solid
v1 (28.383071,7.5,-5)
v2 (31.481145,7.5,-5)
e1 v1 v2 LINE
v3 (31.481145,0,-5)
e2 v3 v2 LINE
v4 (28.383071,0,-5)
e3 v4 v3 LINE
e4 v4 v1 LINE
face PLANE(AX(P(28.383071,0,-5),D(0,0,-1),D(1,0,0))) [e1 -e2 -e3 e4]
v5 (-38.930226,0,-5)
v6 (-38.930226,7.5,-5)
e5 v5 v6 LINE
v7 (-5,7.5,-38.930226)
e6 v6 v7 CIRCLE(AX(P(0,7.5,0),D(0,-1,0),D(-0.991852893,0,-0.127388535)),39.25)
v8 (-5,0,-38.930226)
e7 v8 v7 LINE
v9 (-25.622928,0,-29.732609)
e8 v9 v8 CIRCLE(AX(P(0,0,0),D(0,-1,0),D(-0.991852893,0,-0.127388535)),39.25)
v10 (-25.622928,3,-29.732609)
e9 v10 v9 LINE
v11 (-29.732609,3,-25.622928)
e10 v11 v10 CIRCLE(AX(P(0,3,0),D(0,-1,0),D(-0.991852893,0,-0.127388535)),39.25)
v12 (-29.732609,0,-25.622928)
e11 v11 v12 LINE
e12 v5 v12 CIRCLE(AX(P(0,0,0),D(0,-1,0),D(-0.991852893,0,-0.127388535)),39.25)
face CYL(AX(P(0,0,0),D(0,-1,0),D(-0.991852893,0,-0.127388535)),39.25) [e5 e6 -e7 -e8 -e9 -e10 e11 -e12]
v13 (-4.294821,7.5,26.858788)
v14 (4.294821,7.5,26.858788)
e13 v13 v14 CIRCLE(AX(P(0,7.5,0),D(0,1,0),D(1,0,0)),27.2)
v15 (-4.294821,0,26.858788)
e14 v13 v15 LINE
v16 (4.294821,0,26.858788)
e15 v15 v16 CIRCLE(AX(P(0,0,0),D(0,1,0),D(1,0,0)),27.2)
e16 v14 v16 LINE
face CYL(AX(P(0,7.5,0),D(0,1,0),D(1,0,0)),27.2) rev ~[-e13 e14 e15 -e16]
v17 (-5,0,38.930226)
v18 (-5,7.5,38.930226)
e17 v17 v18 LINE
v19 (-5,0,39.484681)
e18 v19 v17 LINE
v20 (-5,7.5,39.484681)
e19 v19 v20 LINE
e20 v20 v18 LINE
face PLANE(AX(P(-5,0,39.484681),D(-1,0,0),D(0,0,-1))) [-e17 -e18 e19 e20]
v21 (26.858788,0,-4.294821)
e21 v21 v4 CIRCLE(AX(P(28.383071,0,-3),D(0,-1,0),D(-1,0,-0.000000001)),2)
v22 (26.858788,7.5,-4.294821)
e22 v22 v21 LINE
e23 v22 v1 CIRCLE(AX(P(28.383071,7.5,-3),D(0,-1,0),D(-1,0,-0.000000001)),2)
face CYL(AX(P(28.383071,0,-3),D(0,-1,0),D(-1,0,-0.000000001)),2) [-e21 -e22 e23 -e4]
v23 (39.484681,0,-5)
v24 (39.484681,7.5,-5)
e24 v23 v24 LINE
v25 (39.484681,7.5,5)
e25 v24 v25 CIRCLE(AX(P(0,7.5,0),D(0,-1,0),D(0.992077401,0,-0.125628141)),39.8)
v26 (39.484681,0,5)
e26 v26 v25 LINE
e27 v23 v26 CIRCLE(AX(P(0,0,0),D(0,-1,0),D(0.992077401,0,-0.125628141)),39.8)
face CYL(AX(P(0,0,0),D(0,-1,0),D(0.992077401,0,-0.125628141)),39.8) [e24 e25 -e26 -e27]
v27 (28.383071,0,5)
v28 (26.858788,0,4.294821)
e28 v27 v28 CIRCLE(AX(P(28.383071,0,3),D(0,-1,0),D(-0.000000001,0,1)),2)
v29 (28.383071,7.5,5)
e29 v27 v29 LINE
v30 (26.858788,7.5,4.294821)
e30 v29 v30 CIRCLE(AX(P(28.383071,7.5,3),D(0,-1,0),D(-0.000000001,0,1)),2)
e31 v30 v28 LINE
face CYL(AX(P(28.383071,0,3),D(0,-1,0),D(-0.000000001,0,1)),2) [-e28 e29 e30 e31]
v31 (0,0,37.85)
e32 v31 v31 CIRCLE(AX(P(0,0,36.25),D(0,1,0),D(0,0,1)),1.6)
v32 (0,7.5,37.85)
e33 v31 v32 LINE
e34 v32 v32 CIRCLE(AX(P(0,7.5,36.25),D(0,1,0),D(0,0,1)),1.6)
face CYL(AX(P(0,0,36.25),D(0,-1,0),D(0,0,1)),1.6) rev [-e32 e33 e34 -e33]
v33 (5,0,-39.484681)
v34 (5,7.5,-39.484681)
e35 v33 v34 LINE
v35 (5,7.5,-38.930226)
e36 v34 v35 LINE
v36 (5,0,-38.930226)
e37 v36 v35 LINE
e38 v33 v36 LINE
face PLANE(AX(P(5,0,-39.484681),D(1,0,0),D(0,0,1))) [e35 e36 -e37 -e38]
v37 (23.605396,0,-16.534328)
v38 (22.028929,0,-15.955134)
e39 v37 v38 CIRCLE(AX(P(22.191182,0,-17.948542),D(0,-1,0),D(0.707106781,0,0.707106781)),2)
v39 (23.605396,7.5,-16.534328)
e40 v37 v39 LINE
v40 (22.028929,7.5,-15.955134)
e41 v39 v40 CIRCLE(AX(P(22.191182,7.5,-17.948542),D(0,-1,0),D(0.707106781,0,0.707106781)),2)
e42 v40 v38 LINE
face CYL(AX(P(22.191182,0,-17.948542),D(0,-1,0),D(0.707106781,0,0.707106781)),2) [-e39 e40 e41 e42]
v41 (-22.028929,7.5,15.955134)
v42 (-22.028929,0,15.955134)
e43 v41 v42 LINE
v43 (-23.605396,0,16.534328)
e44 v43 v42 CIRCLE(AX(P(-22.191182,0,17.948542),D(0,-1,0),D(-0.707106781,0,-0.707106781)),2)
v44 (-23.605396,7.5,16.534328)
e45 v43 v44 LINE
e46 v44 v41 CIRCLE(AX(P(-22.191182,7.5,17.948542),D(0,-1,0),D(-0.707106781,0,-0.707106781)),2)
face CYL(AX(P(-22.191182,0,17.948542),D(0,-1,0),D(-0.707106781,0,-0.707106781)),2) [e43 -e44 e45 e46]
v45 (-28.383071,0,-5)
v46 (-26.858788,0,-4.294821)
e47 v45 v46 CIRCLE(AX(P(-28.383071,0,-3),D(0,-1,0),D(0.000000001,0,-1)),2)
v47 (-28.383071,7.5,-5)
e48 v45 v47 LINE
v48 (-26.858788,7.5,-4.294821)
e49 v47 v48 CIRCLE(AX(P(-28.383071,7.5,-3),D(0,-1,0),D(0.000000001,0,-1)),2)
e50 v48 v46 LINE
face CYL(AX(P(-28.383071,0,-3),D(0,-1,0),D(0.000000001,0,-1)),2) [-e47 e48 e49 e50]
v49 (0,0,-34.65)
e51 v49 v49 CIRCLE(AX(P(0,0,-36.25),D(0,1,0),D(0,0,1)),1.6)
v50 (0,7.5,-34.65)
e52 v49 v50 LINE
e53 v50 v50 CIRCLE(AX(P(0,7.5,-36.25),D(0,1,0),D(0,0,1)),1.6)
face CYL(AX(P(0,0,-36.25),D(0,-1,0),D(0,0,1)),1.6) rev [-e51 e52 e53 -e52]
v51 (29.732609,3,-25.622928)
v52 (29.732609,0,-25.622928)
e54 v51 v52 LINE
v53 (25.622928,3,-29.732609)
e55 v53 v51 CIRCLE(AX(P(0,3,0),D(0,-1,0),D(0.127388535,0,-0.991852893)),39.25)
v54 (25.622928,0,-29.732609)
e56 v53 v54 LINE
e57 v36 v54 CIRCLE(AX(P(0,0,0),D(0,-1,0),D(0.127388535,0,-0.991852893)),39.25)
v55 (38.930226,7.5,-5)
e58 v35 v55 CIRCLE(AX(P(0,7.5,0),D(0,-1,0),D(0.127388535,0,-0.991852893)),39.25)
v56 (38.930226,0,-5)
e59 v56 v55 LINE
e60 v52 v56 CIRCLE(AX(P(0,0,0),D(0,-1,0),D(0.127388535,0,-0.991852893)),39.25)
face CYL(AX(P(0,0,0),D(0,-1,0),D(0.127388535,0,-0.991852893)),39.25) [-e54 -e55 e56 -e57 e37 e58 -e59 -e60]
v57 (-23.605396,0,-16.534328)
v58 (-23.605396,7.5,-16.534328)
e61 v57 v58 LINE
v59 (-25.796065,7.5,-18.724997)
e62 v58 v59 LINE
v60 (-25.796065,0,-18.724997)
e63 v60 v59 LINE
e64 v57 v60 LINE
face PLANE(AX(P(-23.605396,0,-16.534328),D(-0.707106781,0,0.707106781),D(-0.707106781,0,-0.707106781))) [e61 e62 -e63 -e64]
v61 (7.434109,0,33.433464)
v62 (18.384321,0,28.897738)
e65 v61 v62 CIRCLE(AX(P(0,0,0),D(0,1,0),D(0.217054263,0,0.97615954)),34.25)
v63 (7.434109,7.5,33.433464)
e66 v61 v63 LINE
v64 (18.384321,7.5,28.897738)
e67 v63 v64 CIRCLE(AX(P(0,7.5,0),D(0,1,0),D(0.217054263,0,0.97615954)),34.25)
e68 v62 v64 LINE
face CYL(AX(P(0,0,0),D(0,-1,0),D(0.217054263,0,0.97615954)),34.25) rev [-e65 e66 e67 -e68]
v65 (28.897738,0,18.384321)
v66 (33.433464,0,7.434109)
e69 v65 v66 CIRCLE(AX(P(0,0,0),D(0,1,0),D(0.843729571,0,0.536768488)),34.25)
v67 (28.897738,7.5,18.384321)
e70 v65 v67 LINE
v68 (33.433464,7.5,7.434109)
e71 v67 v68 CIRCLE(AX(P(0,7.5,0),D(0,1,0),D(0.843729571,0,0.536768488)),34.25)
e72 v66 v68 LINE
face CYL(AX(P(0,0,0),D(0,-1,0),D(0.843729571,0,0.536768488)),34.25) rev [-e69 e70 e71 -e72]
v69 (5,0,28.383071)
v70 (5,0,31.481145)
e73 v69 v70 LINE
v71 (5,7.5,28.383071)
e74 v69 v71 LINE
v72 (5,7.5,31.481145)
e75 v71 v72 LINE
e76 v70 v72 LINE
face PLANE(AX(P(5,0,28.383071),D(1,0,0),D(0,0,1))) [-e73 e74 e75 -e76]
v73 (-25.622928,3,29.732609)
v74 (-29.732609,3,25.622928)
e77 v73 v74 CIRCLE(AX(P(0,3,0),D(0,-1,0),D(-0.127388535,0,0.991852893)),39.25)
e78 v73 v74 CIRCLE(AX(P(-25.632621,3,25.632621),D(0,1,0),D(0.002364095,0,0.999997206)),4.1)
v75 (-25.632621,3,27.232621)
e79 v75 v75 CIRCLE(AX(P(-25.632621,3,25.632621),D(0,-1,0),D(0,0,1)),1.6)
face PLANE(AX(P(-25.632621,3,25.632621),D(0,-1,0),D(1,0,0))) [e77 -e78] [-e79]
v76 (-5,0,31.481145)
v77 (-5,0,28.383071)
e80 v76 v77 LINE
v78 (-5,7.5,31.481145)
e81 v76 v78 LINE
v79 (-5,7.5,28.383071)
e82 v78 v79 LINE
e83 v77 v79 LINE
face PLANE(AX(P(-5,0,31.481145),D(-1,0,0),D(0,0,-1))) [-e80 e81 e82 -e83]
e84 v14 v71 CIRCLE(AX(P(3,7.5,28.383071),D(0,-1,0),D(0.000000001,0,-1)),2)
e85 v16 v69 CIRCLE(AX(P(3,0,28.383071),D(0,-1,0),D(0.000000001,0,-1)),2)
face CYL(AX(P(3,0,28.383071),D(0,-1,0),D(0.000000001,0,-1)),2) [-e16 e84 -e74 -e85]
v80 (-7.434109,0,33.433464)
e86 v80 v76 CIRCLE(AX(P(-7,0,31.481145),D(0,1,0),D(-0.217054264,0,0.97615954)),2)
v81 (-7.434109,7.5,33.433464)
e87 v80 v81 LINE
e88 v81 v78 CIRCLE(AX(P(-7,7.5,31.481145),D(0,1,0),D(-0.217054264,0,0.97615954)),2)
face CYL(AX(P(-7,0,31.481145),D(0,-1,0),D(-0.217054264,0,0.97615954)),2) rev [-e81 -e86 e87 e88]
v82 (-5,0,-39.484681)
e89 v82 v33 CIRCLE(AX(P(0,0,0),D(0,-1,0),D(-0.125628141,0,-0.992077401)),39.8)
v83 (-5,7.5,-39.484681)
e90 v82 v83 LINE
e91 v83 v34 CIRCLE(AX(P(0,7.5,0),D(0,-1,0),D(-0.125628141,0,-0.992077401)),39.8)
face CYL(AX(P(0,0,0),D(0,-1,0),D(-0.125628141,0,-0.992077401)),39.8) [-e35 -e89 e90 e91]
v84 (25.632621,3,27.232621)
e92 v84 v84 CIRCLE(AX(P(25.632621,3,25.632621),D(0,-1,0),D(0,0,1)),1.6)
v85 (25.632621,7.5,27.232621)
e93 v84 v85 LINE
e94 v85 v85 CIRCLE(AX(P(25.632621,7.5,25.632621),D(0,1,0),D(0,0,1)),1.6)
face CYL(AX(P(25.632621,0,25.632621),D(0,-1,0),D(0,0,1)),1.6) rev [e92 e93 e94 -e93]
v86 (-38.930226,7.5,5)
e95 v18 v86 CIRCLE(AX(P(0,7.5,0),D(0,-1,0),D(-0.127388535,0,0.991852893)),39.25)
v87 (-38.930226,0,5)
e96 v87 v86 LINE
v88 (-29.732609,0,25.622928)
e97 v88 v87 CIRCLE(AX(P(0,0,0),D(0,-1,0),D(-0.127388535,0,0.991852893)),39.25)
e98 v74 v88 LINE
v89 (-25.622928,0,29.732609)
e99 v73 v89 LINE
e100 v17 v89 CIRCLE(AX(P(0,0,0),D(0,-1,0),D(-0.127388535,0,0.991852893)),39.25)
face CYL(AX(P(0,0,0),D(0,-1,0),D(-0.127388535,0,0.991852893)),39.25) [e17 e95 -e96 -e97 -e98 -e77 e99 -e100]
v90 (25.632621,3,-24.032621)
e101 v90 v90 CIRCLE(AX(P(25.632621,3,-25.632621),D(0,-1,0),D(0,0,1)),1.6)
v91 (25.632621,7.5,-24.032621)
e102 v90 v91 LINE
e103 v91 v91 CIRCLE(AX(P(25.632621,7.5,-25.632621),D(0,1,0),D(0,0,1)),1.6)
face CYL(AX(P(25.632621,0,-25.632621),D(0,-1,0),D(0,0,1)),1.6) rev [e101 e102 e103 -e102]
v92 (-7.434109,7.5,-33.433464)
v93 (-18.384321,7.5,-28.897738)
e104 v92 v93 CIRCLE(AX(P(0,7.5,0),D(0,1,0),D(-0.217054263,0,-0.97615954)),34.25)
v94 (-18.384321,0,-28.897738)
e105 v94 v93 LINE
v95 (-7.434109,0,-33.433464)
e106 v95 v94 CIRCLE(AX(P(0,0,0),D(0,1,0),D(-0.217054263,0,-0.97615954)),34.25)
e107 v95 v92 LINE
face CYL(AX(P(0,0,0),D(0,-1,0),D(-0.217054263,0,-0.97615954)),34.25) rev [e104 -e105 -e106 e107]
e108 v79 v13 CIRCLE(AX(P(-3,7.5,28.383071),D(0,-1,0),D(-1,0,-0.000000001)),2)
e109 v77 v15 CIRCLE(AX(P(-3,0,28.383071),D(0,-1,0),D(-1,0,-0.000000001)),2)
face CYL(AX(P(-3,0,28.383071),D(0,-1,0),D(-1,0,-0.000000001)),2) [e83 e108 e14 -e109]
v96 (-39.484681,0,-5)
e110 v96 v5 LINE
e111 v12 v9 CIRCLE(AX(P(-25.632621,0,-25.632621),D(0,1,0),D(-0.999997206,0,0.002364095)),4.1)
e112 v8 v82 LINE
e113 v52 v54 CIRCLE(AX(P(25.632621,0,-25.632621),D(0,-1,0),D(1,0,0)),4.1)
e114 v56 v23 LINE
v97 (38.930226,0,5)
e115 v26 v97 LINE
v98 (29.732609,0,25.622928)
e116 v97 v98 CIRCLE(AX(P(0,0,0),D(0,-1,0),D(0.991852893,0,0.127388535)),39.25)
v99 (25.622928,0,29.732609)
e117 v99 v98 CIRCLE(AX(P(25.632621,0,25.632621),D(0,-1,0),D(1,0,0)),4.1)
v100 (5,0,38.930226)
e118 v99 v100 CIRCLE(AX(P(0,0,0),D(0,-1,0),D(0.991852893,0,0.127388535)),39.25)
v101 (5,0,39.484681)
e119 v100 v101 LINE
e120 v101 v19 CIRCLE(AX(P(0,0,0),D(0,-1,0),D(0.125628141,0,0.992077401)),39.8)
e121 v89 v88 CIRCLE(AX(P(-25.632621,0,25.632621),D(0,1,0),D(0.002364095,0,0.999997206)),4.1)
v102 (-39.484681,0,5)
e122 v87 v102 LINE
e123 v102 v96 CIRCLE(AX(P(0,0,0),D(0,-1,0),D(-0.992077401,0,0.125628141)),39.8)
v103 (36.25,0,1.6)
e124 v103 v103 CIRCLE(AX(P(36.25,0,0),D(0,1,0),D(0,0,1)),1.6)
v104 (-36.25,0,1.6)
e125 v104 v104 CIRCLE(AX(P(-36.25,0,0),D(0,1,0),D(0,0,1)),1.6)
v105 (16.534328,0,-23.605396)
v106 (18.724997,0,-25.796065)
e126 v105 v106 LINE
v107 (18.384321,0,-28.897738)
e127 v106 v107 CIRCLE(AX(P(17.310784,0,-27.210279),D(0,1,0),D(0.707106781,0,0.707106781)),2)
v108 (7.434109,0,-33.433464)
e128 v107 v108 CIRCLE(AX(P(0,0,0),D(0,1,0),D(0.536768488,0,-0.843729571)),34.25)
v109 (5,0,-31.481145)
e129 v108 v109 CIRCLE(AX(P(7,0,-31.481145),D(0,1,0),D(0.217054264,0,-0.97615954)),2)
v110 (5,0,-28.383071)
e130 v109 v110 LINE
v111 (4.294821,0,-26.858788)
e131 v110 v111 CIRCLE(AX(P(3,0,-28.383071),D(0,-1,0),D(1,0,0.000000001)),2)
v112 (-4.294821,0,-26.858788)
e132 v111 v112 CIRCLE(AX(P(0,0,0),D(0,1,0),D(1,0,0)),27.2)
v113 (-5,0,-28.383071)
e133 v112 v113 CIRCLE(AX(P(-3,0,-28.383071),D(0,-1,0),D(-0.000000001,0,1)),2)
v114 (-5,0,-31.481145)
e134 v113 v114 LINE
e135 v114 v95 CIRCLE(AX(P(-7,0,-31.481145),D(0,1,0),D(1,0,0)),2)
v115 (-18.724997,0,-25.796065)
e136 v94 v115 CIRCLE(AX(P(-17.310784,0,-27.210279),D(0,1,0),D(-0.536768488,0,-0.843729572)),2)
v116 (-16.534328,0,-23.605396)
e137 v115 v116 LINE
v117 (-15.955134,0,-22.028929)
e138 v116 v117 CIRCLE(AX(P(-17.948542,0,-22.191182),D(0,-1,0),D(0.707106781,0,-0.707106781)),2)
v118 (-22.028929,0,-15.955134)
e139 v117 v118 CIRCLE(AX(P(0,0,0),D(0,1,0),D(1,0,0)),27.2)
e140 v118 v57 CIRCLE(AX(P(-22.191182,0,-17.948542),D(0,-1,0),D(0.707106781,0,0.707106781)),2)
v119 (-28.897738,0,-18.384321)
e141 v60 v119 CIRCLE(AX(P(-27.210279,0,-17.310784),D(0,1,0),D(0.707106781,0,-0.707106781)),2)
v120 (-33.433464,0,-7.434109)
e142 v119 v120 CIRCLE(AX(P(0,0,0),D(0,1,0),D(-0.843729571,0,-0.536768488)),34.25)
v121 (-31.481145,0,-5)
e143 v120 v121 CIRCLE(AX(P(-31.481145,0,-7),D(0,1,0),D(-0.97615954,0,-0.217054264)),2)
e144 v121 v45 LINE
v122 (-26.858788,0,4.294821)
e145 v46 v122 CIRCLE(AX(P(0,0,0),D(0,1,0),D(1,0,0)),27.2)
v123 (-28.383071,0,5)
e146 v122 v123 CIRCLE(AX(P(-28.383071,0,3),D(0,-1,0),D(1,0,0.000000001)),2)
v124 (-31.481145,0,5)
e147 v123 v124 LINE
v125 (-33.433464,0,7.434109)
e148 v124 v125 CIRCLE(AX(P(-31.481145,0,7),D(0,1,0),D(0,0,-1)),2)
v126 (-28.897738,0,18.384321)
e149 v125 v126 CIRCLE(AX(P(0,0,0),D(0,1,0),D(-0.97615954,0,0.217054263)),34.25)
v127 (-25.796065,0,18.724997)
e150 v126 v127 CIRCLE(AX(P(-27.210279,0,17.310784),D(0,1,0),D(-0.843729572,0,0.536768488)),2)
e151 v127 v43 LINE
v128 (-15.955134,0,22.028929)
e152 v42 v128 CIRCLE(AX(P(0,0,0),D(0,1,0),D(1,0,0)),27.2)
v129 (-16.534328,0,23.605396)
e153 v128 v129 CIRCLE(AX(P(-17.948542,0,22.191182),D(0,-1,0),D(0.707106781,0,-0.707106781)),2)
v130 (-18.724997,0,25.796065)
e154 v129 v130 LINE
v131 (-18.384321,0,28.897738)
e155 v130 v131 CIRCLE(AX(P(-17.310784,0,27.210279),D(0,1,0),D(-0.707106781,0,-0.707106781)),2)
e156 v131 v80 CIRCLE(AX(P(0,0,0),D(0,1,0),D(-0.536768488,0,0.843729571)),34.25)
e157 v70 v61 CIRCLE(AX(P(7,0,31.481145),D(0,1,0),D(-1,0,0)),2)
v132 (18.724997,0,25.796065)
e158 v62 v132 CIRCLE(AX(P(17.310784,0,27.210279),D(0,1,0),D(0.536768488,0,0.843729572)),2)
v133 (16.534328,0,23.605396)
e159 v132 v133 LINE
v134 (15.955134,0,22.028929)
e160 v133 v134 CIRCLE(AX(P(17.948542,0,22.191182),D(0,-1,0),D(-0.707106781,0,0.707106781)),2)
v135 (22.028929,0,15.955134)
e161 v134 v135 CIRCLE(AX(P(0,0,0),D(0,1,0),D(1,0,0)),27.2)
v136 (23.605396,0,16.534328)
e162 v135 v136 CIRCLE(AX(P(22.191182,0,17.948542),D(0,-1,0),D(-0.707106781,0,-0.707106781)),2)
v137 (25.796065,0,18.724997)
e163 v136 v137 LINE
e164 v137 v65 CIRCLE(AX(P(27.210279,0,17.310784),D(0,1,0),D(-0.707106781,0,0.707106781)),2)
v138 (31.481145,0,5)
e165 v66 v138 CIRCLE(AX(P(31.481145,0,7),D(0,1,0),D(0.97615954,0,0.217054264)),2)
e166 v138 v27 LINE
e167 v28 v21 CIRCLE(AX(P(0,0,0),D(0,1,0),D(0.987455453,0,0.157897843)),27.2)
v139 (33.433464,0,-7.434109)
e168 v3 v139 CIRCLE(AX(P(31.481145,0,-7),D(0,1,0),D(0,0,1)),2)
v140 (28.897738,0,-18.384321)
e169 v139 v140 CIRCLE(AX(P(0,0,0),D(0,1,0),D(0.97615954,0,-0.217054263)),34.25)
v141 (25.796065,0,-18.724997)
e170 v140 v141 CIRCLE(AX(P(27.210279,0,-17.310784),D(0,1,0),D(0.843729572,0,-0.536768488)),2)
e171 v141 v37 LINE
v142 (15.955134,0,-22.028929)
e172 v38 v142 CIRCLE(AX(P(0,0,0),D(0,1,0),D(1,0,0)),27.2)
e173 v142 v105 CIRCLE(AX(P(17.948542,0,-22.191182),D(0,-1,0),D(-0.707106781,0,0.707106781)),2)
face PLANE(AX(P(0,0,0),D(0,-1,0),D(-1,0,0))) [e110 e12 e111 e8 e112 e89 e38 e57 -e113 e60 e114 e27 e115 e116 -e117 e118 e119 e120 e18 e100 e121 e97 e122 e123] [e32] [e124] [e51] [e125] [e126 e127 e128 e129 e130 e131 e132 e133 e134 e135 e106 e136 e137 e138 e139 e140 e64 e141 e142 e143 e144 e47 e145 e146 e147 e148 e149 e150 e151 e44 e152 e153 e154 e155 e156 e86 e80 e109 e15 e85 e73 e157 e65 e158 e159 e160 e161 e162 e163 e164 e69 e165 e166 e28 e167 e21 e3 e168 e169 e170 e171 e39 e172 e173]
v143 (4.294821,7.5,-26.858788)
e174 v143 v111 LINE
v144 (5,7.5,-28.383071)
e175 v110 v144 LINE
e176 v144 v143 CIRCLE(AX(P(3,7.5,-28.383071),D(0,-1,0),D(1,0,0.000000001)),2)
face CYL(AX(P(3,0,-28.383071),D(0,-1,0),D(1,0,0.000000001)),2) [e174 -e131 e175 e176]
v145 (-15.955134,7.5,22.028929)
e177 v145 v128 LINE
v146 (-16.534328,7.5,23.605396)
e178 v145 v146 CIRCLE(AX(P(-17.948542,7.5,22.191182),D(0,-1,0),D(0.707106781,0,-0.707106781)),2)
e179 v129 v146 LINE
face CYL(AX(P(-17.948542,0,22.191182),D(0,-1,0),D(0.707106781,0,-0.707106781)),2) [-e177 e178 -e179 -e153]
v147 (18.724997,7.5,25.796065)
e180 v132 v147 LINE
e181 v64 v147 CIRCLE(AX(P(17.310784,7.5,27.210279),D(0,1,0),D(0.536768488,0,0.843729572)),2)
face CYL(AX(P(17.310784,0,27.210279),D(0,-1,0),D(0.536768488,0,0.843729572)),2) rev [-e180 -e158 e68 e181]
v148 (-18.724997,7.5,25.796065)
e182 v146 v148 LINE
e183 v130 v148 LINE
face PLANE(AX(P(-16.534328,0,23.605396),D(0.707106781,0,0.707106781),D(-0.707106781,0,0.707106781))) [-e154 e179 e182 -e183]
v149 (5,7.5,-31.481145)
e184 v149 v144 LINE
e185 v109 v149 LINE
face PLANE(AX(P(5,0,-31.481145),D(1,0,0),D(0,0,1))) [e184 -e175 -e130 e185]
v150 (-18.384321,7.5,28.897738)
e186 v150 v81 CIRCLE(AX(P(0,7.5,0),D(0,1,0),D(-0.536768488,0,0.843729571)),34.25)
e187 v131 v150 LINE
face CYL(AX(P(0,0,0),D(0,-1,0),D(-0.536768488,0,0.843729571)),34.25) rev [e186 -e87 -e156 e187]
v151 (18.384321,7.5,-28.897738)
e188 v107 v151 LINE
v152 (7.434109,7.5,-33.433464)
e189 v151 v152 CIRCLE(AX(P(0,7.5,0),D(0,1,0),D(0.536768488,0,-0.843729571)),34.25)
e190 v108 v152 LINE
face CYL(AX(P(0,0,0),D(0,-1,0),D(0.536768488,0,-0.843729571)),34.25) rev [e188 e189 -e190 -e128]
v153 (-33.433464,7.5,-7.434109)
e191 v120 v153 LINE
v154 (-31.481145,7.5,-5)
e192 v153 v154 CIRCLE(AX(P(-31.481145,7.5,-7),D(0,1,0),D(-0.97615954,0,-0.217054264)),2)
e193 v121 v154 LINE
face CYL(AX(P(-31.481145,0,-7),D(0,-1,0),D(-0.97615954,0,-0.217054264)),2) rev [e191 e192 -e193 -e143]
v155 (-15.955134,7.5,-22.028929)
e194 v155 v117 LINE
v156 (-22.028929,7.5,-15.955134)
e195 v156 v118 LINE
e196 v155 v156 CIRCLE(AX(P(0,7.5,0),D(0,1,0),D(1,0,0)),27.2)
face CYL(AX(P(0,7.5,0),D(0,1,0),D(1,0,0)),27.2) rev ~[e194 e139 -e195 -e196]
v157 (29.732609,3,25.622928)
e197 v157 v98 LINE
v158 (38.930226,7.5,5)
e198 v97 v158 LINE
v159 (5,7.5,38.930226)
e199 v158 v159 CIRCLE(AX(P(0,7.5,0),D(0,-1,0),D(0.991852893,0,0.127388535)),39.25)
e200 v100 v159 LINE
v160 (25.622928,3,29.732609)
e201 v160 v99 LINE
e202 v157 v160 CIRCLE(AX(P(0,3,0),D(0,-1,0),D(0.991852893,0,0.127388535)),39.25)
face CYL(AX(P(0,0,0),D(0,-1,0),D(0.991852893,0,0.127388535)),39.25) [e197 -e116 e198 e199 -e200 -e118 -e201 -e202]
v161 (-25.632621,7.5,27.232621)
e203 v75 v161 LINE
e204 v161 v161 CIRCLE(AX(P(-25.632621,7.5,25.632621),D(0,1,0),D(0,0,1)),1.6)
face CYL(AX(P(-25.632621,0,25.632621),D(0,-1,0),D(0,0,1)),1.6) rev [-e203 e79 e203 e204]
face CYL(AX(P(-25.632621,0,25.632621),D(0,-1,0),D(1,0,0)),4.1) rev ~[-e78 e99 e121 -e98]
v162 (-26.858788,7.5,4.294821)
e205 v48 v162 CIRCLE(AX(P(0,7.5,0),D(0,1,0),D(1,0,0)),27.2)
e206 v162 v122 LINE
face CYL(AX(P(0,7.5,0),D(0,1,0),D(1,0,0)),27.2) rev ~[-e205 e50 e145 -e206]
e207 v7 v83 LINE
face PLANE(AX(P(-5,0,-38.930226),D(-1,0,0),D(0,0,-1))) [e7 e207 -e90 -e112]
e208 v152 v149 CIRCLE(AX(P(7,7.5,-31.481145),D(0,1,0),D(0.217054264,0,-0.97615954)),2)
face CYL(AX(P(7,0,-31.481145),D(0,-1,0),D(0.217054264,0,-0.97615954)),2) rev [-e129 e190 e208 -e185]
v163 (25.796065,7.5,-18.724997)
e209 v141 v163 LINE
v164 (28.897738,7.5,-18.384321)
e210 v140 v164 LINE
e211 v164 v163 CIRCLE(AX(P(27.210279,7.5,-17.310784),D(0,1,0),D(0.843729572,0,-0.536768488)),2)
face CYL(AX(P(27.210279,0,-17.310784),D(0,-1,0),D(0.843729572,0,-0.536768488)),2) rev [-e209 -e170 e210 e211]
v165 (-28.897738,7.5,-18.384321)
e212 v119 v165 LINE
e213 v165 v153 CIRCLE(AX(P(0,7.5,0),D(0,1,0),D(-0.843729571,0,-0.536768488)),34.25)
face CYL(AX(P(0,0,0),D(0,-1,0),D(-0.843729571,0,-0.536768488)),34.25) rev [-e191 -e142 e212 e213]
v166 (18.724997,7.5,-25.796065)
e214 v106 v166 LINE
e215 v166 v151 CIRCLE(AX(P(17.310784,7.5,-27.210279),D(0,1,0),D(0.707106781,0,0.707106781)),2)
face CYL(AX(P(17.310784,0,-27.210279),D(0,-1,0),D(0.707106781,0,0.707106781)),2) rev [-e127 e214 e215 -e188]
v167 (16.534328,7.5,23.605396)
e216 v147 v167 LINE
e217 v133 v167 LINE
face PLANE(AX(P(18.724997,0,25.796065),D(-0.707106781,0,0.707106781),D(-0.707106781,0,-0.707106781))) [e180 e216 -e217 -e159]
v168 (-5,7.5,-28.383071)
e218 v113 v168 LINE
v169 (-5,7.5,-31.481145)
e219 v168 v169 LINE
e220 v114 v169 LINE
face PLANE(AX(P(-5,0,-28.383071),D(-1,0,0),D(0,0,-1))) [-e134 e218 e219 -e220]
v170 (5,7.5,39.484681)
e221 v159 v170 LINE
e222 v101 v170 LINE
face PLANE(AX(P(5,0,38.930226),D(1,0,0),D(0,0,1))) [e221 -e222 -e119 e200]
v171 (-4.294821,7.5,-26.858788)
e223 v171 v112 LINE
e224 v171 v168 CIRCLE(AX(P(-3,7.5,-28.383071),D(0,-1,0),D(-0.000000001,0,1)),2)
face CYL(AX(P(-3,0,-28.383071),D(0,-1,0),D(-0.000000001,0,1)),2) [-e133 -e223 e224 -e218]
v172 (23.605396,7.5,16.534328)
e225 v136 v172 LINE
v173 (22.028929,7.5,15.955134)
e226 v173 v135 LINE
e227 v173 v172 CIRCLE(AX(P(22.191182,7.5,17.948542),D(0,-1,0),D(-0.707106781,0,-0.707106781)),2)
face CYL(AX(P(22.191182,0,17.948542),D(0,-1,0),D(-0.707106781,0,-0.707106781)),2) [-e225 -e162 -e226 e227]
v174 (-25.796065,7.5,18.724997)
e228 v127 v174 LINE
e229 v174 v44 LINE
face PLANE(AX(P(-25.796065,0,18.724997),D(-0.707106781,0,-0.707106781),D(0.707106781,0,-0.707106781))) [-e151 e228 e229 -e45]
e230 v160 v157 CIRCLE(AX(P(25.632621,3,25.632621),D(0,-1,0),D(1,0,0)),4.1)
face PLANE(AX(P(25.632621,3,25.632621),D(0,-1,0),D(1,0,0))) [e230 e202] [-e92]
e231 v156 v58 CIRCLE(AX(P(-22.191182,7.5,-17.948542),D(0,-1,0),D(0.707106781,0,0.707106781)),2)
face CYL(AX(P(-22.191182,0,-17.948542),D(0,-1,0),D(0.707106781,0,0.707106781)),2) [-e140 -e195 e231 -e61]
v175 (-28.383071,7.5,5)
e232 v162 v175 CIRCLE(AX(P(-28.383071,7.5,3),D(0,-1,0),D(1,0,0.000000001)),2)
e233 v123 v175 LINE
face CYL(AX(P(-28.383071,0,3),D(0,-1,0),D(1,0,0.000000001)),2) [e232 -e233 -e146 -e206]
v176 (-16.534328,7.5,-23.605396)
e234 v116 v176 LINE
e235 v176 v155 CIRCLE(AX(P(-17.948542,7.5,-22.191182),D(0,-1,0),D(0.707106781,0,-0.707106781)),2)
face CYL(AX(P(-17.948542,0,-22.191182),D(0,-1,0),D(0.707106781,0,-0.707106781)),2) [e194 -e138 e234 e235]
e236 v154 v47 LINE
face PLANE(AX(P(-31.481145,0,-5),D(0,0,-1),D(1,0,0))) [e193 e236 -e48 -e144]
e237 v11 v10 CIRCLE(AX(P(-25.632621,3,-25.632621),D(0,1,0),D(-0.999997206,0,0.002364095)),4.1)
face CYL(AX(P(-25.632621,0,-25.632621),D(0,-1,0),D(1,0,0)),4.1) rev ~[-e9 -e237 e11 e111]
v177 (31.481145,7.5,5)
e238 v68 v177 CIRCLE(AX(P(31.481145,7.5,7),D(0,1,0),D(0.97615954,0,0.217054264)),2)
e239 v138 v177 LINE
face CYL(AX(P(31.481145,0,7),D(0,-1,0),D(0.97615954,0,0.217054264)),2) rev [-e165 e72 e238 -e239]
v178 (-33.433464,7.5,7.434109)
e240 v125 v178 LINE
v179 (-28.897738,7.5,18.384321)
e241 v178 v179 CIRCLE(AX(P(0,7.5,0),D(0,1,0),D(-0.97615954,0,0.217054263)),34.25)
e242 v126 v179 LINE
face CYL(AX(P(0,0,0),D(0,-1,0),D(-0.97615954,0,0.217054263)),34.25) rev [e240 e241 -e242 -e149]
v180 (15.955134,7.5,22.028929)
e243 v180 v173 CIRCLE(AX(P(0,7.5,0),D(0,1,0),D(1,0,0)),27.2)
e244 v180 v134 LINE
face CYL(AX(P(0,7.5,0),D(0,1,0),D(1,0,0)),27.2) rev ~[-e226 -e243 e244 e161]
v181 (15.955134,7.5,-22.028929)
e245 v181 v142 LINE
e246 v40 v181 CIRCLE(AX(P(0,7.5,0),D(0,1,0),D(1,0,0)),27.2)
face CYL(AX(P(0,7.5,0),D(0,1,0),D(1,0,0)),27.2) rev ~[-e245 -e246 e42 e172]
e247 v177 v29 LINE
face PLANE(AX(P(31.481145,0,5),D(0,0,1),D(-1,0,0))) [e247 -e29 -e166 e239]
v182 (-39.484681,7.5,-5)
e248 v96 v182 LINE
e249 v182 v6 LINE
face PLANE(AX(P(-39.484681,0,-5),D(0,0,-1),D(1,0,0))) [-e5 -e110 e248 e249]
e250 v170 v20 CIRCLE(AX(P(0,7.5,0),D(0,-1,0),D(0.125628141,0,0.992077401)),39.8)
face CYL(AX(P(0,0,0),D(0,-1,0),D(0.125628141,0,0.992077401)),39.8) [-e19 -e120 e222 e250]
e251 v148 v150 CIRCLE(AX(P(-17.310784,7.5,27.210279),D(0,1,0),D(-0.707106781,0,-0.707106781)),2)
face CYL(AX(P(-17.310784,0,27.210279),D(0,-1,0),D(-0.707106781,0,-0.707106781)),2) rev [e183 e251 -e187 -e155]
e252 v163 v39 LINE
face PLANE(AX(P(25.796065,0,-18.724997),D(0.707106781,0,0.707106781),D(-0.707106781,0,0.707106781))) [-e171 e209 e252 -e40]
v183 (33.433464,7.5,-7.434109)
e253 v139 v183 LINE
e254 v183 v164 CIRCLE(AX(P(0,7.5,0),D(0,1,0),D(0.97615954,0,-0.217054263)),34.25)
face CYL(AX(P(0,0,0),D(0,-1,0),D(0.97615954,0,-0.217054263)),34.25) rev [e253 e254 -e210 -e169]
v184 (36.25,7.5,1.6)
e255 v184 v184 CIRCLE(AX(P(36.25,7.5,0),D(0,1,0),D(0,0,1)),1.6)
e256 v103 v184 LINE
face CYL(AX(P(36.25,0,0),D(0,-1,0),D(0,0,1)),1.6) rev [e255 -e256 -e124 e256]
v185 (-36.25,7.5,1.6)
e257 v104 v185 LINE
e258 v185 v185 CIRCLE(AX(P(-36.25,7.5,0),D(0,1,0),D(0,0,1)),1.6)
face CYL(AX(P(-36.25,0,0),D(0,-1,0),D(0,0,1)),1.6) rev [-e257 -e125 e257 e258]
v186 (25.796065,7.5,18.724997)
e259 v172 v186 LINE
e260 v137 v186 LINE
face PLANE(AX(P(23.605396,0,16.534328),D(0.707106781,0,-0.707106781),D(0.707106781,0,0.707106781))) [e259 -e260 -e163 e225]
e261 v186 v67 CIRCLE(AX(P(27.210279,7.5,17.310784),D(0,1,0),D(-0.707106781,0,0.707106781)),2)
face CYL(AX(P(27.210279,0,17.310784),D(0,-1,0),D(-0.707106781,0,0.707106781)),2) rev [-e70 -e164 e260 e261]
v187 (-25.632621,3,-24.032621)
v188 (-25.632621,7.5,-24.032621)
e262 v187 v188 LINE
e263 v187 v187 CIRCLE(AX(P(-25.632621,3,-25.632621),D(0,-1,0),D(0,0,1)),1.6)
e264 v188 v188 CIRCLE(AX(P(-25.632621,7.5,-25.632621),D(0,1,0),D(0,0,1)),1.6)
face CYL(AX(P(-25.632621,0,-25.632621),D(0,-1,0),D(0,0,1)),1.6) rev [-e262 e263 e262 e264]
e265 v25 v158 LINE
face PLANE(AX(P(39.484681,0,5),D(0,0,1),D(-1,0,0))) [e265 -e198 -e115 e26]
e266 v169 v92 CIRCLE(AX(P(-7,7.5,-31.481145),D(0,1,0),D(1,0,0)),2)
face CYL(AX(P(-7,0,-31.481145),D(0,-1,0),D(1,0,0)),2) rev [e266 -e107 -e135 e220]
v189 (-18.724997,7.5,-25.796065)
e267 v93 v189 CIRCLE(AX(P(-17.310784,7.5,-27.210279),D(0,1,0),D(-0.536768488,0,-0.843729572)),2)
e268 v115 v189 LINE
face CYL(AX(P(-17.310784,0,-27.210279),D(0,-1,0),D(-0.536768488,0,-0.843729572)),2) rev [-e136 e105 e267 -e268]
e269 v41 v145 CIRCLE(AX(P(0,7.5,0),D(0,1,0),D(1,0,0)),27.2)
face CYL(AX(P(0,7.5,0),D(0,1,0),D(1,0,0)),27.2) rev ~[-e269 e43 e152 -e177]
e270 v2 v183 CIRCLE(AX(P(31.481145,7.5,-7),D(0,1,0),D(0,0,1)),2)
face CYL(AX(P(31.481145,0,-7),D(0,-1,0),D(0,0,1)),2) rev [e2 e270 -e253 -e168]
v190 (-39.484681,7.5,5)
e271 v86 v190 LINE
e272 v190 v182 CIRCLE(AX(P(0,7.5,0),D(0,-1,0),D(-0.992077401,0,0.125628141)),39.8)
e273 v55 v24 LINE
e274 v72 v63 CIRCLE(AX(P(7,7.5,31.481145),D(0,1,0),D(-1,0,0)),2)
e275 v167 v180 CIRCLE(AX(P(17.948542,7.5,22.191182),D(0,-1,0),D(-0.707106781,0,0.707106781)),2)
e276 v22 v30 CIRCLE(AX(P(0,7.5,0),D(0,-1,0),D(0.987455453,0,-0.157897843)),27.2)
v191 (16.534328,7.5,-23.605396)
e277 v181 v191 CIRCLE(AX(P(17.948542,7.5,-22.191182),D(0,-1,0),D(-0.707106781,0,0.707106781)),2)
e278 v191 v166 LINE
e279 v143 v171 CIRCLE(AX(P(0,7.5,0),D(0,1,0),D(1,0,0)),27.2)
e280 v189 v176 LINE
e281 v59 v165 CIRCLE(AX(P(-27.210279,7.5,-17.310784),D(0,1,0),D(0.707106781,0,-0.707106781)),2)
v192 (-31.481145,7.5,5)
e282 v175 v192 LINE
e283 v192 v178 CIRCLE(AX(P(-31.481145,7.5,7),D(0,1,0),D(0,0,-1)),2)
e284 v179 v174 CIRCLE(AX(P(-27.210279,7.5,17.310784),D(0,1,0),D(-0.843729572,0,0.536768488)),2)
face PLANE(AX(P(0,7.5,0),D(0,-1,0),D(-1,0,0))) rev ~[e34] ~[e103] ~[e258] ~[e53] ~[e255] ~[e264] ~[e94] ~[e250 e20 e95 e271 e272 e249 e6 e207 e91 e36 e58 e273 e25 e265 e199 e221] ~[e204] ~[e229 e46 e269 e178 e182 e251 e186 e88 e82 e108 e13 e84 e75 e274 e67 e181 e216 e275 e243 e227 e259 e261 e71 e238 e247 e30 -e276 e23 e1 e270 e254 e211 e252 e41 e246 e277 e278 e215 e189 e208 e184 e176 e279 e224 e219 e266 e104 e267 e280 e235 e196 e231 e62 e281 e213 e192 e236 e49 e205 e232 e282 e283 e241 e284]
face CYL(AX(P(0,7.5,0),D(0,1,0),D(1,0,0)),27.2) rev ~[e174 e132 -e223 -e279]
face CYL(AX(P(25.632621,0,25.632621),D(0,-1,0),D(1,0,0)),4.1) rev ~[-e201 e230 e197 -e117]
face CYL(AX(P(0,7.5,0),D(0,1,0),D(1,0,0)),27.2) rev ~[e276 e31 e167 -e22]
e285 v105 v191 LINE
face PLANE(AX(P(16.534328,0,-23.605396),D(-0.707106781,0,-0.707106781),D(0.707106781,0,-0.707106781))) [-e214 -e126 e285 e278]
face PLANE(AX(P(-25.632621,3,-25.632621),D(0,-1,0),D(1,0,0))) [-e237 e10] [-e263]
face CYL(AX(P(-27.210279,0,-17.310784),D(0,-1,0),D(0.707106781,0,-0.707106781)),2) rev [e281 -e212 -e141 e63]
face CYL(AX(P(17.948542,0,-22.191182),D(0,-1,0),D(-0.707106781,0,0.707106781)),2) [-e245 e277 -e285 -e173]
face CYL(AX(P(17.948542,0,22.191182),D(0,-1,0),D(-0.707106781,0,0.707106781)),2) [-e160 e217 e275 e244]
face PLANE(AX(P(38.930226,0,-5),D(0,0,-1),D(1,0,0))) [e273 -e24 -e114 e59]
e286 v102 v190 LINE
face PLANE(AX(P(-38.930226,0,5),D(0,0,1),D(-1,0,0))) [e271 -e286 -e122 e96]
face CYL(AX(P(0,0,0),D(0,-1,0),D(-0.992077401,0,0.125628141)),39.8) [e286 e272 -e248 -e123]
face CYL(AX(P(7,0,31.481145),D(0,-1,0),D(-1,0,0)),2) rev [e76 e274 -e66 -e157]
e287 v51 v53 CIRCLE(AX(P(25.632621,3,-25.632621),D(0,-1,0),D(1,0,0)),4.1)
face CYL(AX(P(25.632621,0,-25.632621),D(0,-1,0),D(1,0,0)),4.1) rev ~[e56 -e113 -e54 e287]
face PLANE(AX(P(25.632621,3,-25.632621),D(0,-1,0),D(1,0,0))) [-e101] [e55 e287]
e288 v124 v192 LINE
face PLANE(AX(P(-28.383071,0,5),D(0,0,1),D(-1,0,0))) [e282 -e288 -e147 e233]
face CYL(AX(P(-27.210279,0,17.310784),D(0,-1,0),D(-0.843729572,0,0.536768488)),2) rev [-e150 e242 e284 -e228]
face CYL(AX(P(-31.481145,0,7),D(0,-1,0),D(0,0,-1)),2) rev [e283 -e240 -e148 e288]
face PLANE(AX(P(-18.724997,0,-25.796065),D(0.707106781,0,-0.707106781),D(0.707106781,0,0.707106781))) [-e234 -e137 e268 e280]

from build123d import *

# Parameters (mm, degrees)
SKETCH1_R           = 1.6
BOSS_EXTRUDE1_DEPTH = 7.5
SKETCH3_R           = 27.2
CUT_EXTRUDE1_DEPTH  = 7.5
SKETCH4_R           = 4.1
CUT_EXTRUDE2_DEPTH  = 3


with BuildPart() as part:
    # Sketch1 → Boss-Extrude1 (new body)
    with BuildSketch(Plane(origin=(0, 0, 0), x_dir=(1, 0, 0), z_dir=(0, 1, 0))):
        with BuildLine():
            Line((-5, 38.930226046), (-5, 39.484680574))
            ThreePointArc((-5, 39.484680574), (0, 39.8), (5, 39.484680574))
            Line((5, 39.484680574), (5, 38.930226046))
            ThreePointArc((5, 38.930226046), (27.753941162, 27.753941162), (38.930226046, 5))
            Line((38.930226046, 5), (39.484680574, 5))
            ThreePointArc((39.484680574, 5), (39.8, 0), (39.484680574, -5))
            Line((39.484680574, -5), (38.930226046, -5))
            ThreePointArc((38.930226046, -5), (27.753941162, -27.753941162), (5, -38.930226046))
            Line((5, -38.930226046), (5, -39.484680574))
            ThreePointArc((5, -39.484680574), (0, -39.8), (-5, -39.484680574))
            Line((-5, -39.484680574), (-5, -38.930226046))
            ThreePointArc((-5, -38.930226046), (-27.753941162, -27.753941162), (-38.930226046, -5))
            Line((-38.930226046, -5), (-39.484680574, -5))
            ThreePointArc((-39.484680574, -5), (-39.8, 0), (-39.484680574, 5))
            Line((-39.484680574, 5), (-38.930226046, 5))
            ThreePointArc((-38.930226046, 5), (-27.753941162, 27.753941162), (-5, 38.930226046))
        make_face()
        with Locations(Location((36.25, 0, 0), (0, 0, 270))):
            Circle(SKETCH1_R, mode=Mode.SUBTRACT)
        with Locations(Location((25.632620818, -25.632620818, 0), (0, 0, 270))):
            Circle(SKETCH1_R, mode=Mode.SUBTRACT)
        with Locations(Location((0, -36.25, 0), (0, 0, 270))):
            Circle(SKETCH1_R, mode=Mode.SUBTRACT)
        with Locations(Location((-25.632620818, -25.632620818, 0), (0, 0, 270))):
            Circle(SKETCH1_R, mode=Mode.SUBTRACT)
        with Locations(Location((-36.25, 0, 0), (0, 0, 270))):
            Circle(SKETCH1_R, mode=Mode.SUBTRACT)
        with Locations(Location((-25.632620818, 25.632620818, 0), (0, 0, 270))):
            Circle(SKETCH1_R, mode=Mode.SUBTRACT)
        with Locations(Location((0, 36.25, 0), (0, 0, 270))):
            Circle(SKETCH1_R, mode=Mode.SUBTRACT)
        with Locations(Location((25.632620818, 25.632620818, 0), (0, 0, 270))):
            Circle(SKETCH1_R, mode=Mode.SUBTRACT)
        with BuildLine():
            Line((28.383070994, 5), (31.481145151, 5))
            ThreePointArc((31.481145151, 5), (33.041308132, 5.748644146), (33.43346423, 7.434108527))
            ThreePointArc((33.43346423, 7.434108527), (31.642873989, 13.106907559), (28.897737827, 18.384320724))
            ThreePointArc((28.897737827, 18.384320724), (27.428638298, 19.298827781), (25.796065122, 18.72499731))
            Line((25.796065122, 18.72499731), (23.605395877, 16.534328065))
            ThreePointArc((23.605395877, 16.534328065), (22.191182314, 15.948541627), (20.776968752, 16.534328065))
            Line((20.776968752, 16.534328065), (16.534328065, 20.776968752))
            ThreePointArc((16.534328065, 20.776968752), (15.948541627, 22.191182314), (16.534328065, 23.605395877))
            Line((16.534328065, 23.605395877), (18.72499731, 25.796065122))
            ThreePointArc((18.72499731, 25.796065122), (19.298827781, 27.428638298), (18.384320724, 28.897737827))
            ThreePointArc((18.384320724, 28.897737827), (13.106907559, 31.642873989), (7.434108527, 33.43346423))
            ThreePointArc((7.434108527, 33.43346423), (5.748644146, 33.041308132), (5, 31.481145151))
            Line((5, 31.481145151), (5, 28.383070994))
            ThreePointArc((5, 28.383070994), (4.414213562, 26.968857432), (3, 26.383070994))
            Line((3, 26.383070994), (-3, 26.383070994))
            ThreePointArc((-3, 26.383070994), (-4.414213562, 26.968857432), (-5, 28.383070994))
            Line((-5, 28.383070994), (-5, 31.481145151))
            ThreePointArc((-5, 31.481145151), (-5.748644146, 33.041308132), (-7.434108527, 33.43346423))
            ThreePointArc((-7.434108527, 33.43346423), (-13.106907559, 31.642873989), (-18.384320724, 28.897737827))
            ThreePointArc((-18.384320724, 28.897737827), (-19.298827781, 27.428638298), (-18.72499731, 25.796065122))
            Line((-18.72499731, 25.796065122), (-16.534328065, 23.605395877))
            ThreePointArc((-16.534328065, 23.605395877), (-15.948541627, 22.191182314), (-16.534328065, 20.776968752))
            Line((-16.534328065, 20.776968752), (-20.776968752, 16.534328065))
            ThreePointArc((-20.776968752, 16.534328065), (-22.191182314, 15.948541627), (-23.605395877, 16.534328065))
            Line((-23.605395877, 16.534328065), (-25.796065122, 18.72499731))
            ThreePointArc((-25.796065122, 18.72499731), (-27.428638298, 19.298827781), (-28.897737827, 18.384320724))
            ThreePointArc((-28.897737827, 18.384320724), (-31.642873989, 13.106907559), (-33.43346423, 7.434108527))
            ThreePointArc((-33.43346423, 7.434108527), (-33.041308132, 5.748644146), (-31.481145151, 5))
            Line((-31.481145151, 5), (-28.383070994, 5))
            ThreePointArc((-28.383070994, 5), (-26.968857432, 4.414213562), (-26.383070994, 3))
            Line((-26.383070994, 3), (-26.383070994, -3))
            ThreePointArc((-26.383070994, -3), (-26.968857432, -4.414213562), (-28.383070994, -5))
            Line((-28.383070994, -5), (-31.481145151, -5))
            ThreePointArc((-31.481145151, -5), (-33.041308132, -5.748644146), (-33.43346423, -7.434108527))
            ThreePointArc((-33.43346423, -7.434108527), (-31.642873989, -13.106907559), (-28.897737827, -18.384320724))
            ThreePointArc((-28.897737827, -18.384320724), (-27.428638298, -19.298827781), (-25.796065122, -18.72499731))
            Line((-25.796065122, -18.72499731), (-23.605395877, -16.534328065))
            ThreePointArc((-23.605395877, -16.534328065), (-22.191182314, -15.948541627), (-20.776968752, -16.534328065))
            Line((-20.776968752, -16.534328065), (-16.534328065, -20.776968752))
            ThreePointArc((-16.534328065, -20.776968752), (-15.948541627, -22.191182314), (-16.534328065, -23.605395877))
            Line((-16.534328065, -23.605395877), (-18.72499731, -25.796065122))
            ThreePointArc((-18.72499731, -25.796065122), (-19.298827781, -27.428638298), (-18.384320724, -28.897737827))
            ThreePointArc((-18.384320724, -28.897737827), (-13.106907559, -31.642873989), (-7.434108527, -33.43346423))
            ThreePointArc((-7.434108527, -33.43346423), (-5.748644146, -33.041308132), (-5, -31.481145151))
            Line((-5, -31.481145151), (-5, -28.383070994))
            ThreePointArc((-5, -28.383070994), (-4.414213562, -26.968857432), (-3, -26.383070994))
            Line((-3, -26.383070994), (3, -26.383070994))
            ThreePointArc((3, -26.383070994), (4.414213562, -26.968857432), (5, -28.383070994))
            Line((5, -28.383070994), (5, -31.481145151))
            ThreePointArc((5, -31.481145151), (5.748644146, -33.041308132), (7.434108527, -33.43346423))
            ThreePointArc((7.434108527, -33.43346423), (13.106907559, -31.642873989), (18.384320724, -28.897737827))
            ThreePointArc((18.384320724, -28.897737827), (19.298827781, -27.428638298), (18.72499731, -25.796065122))
            Line((18.72499731, -25.796065122), (16.534328065, -23.605395877))
            ThreePointArc((16.534328065, -23.605395877), (15.948541627, -22.191182314), (16.534328065, -20.776968752))
            Line((16.534328065, -20.776968752), (20.776968752, -16.534328065))
            ThreePointArc((20.776968752, -16.534328065), (22.191182314, -15.948541627), (23.605395877, -16.534328065))
            Line((23.605395877, -16.534328065), (25.796065122, -18.72499731))
            ThreePointArc((25.796065122, -18.72499731), (27.428638298, -19.298827781), (28.897737827, -18.384320724))
            ThreePointArc((28.897737827, -18.384320724), (31.642873989, -13.106907559), (33.43346423, -7.434108527))
            ThreePointArc((33.43346423, -7.434108527), (33.041308132, -5.748644146), (31.481145151, -5))
            Line((31.481145151, -5), (28.383070994, -5))
            ThreePointArc((28.383070994, -5), (26.968857432, -4.414213562), (26.383070994, -3))
            Line((26.383070994, -3), (26.383070994, 3))
            ThreePointArc((26.383070994, 3), (26.968857432, 4.414213562), (28.383070994, 5))
        make_face(mode=Mode.SUBTRACT)
    extrude(amount=BOSS_EXTRUDE1_DEPTH)

    # Sketch3 → Cut-Extrude1 (cut)
    with BuildSketch(Plane(origin=(0, 7.5, 0), x_dir=(1, 0, 0), z_dir=(0, 1, 0))):
        Circle(SKETCH3_R)
    extrude(amount=-CUT_EXTRUDE1_DEPTH, mode=Mode.SUBTRACT)

    # Sketch4 → Cut-Extrude2 (cut)
    with BuildSketch(Plane.XZ):
        with Locations((25.632620818, -25.632620818)):
            Circle(SKETCH4_R)
        with Locations((-25.632620818, -25.632620818)):
            Circle(SKETCH4_R)
        with Locations((-25.632620818, 25.632620818)):
            Circle(SKETCH4_R)
        with Locations((25.632620818, 25.632620818)):
            Circle(SKETCH4_R)
    extrude(amount=-CUT_EXTRUDE2_DEPTH, mode=Mode.SUBTRACT)


solid = part.part
